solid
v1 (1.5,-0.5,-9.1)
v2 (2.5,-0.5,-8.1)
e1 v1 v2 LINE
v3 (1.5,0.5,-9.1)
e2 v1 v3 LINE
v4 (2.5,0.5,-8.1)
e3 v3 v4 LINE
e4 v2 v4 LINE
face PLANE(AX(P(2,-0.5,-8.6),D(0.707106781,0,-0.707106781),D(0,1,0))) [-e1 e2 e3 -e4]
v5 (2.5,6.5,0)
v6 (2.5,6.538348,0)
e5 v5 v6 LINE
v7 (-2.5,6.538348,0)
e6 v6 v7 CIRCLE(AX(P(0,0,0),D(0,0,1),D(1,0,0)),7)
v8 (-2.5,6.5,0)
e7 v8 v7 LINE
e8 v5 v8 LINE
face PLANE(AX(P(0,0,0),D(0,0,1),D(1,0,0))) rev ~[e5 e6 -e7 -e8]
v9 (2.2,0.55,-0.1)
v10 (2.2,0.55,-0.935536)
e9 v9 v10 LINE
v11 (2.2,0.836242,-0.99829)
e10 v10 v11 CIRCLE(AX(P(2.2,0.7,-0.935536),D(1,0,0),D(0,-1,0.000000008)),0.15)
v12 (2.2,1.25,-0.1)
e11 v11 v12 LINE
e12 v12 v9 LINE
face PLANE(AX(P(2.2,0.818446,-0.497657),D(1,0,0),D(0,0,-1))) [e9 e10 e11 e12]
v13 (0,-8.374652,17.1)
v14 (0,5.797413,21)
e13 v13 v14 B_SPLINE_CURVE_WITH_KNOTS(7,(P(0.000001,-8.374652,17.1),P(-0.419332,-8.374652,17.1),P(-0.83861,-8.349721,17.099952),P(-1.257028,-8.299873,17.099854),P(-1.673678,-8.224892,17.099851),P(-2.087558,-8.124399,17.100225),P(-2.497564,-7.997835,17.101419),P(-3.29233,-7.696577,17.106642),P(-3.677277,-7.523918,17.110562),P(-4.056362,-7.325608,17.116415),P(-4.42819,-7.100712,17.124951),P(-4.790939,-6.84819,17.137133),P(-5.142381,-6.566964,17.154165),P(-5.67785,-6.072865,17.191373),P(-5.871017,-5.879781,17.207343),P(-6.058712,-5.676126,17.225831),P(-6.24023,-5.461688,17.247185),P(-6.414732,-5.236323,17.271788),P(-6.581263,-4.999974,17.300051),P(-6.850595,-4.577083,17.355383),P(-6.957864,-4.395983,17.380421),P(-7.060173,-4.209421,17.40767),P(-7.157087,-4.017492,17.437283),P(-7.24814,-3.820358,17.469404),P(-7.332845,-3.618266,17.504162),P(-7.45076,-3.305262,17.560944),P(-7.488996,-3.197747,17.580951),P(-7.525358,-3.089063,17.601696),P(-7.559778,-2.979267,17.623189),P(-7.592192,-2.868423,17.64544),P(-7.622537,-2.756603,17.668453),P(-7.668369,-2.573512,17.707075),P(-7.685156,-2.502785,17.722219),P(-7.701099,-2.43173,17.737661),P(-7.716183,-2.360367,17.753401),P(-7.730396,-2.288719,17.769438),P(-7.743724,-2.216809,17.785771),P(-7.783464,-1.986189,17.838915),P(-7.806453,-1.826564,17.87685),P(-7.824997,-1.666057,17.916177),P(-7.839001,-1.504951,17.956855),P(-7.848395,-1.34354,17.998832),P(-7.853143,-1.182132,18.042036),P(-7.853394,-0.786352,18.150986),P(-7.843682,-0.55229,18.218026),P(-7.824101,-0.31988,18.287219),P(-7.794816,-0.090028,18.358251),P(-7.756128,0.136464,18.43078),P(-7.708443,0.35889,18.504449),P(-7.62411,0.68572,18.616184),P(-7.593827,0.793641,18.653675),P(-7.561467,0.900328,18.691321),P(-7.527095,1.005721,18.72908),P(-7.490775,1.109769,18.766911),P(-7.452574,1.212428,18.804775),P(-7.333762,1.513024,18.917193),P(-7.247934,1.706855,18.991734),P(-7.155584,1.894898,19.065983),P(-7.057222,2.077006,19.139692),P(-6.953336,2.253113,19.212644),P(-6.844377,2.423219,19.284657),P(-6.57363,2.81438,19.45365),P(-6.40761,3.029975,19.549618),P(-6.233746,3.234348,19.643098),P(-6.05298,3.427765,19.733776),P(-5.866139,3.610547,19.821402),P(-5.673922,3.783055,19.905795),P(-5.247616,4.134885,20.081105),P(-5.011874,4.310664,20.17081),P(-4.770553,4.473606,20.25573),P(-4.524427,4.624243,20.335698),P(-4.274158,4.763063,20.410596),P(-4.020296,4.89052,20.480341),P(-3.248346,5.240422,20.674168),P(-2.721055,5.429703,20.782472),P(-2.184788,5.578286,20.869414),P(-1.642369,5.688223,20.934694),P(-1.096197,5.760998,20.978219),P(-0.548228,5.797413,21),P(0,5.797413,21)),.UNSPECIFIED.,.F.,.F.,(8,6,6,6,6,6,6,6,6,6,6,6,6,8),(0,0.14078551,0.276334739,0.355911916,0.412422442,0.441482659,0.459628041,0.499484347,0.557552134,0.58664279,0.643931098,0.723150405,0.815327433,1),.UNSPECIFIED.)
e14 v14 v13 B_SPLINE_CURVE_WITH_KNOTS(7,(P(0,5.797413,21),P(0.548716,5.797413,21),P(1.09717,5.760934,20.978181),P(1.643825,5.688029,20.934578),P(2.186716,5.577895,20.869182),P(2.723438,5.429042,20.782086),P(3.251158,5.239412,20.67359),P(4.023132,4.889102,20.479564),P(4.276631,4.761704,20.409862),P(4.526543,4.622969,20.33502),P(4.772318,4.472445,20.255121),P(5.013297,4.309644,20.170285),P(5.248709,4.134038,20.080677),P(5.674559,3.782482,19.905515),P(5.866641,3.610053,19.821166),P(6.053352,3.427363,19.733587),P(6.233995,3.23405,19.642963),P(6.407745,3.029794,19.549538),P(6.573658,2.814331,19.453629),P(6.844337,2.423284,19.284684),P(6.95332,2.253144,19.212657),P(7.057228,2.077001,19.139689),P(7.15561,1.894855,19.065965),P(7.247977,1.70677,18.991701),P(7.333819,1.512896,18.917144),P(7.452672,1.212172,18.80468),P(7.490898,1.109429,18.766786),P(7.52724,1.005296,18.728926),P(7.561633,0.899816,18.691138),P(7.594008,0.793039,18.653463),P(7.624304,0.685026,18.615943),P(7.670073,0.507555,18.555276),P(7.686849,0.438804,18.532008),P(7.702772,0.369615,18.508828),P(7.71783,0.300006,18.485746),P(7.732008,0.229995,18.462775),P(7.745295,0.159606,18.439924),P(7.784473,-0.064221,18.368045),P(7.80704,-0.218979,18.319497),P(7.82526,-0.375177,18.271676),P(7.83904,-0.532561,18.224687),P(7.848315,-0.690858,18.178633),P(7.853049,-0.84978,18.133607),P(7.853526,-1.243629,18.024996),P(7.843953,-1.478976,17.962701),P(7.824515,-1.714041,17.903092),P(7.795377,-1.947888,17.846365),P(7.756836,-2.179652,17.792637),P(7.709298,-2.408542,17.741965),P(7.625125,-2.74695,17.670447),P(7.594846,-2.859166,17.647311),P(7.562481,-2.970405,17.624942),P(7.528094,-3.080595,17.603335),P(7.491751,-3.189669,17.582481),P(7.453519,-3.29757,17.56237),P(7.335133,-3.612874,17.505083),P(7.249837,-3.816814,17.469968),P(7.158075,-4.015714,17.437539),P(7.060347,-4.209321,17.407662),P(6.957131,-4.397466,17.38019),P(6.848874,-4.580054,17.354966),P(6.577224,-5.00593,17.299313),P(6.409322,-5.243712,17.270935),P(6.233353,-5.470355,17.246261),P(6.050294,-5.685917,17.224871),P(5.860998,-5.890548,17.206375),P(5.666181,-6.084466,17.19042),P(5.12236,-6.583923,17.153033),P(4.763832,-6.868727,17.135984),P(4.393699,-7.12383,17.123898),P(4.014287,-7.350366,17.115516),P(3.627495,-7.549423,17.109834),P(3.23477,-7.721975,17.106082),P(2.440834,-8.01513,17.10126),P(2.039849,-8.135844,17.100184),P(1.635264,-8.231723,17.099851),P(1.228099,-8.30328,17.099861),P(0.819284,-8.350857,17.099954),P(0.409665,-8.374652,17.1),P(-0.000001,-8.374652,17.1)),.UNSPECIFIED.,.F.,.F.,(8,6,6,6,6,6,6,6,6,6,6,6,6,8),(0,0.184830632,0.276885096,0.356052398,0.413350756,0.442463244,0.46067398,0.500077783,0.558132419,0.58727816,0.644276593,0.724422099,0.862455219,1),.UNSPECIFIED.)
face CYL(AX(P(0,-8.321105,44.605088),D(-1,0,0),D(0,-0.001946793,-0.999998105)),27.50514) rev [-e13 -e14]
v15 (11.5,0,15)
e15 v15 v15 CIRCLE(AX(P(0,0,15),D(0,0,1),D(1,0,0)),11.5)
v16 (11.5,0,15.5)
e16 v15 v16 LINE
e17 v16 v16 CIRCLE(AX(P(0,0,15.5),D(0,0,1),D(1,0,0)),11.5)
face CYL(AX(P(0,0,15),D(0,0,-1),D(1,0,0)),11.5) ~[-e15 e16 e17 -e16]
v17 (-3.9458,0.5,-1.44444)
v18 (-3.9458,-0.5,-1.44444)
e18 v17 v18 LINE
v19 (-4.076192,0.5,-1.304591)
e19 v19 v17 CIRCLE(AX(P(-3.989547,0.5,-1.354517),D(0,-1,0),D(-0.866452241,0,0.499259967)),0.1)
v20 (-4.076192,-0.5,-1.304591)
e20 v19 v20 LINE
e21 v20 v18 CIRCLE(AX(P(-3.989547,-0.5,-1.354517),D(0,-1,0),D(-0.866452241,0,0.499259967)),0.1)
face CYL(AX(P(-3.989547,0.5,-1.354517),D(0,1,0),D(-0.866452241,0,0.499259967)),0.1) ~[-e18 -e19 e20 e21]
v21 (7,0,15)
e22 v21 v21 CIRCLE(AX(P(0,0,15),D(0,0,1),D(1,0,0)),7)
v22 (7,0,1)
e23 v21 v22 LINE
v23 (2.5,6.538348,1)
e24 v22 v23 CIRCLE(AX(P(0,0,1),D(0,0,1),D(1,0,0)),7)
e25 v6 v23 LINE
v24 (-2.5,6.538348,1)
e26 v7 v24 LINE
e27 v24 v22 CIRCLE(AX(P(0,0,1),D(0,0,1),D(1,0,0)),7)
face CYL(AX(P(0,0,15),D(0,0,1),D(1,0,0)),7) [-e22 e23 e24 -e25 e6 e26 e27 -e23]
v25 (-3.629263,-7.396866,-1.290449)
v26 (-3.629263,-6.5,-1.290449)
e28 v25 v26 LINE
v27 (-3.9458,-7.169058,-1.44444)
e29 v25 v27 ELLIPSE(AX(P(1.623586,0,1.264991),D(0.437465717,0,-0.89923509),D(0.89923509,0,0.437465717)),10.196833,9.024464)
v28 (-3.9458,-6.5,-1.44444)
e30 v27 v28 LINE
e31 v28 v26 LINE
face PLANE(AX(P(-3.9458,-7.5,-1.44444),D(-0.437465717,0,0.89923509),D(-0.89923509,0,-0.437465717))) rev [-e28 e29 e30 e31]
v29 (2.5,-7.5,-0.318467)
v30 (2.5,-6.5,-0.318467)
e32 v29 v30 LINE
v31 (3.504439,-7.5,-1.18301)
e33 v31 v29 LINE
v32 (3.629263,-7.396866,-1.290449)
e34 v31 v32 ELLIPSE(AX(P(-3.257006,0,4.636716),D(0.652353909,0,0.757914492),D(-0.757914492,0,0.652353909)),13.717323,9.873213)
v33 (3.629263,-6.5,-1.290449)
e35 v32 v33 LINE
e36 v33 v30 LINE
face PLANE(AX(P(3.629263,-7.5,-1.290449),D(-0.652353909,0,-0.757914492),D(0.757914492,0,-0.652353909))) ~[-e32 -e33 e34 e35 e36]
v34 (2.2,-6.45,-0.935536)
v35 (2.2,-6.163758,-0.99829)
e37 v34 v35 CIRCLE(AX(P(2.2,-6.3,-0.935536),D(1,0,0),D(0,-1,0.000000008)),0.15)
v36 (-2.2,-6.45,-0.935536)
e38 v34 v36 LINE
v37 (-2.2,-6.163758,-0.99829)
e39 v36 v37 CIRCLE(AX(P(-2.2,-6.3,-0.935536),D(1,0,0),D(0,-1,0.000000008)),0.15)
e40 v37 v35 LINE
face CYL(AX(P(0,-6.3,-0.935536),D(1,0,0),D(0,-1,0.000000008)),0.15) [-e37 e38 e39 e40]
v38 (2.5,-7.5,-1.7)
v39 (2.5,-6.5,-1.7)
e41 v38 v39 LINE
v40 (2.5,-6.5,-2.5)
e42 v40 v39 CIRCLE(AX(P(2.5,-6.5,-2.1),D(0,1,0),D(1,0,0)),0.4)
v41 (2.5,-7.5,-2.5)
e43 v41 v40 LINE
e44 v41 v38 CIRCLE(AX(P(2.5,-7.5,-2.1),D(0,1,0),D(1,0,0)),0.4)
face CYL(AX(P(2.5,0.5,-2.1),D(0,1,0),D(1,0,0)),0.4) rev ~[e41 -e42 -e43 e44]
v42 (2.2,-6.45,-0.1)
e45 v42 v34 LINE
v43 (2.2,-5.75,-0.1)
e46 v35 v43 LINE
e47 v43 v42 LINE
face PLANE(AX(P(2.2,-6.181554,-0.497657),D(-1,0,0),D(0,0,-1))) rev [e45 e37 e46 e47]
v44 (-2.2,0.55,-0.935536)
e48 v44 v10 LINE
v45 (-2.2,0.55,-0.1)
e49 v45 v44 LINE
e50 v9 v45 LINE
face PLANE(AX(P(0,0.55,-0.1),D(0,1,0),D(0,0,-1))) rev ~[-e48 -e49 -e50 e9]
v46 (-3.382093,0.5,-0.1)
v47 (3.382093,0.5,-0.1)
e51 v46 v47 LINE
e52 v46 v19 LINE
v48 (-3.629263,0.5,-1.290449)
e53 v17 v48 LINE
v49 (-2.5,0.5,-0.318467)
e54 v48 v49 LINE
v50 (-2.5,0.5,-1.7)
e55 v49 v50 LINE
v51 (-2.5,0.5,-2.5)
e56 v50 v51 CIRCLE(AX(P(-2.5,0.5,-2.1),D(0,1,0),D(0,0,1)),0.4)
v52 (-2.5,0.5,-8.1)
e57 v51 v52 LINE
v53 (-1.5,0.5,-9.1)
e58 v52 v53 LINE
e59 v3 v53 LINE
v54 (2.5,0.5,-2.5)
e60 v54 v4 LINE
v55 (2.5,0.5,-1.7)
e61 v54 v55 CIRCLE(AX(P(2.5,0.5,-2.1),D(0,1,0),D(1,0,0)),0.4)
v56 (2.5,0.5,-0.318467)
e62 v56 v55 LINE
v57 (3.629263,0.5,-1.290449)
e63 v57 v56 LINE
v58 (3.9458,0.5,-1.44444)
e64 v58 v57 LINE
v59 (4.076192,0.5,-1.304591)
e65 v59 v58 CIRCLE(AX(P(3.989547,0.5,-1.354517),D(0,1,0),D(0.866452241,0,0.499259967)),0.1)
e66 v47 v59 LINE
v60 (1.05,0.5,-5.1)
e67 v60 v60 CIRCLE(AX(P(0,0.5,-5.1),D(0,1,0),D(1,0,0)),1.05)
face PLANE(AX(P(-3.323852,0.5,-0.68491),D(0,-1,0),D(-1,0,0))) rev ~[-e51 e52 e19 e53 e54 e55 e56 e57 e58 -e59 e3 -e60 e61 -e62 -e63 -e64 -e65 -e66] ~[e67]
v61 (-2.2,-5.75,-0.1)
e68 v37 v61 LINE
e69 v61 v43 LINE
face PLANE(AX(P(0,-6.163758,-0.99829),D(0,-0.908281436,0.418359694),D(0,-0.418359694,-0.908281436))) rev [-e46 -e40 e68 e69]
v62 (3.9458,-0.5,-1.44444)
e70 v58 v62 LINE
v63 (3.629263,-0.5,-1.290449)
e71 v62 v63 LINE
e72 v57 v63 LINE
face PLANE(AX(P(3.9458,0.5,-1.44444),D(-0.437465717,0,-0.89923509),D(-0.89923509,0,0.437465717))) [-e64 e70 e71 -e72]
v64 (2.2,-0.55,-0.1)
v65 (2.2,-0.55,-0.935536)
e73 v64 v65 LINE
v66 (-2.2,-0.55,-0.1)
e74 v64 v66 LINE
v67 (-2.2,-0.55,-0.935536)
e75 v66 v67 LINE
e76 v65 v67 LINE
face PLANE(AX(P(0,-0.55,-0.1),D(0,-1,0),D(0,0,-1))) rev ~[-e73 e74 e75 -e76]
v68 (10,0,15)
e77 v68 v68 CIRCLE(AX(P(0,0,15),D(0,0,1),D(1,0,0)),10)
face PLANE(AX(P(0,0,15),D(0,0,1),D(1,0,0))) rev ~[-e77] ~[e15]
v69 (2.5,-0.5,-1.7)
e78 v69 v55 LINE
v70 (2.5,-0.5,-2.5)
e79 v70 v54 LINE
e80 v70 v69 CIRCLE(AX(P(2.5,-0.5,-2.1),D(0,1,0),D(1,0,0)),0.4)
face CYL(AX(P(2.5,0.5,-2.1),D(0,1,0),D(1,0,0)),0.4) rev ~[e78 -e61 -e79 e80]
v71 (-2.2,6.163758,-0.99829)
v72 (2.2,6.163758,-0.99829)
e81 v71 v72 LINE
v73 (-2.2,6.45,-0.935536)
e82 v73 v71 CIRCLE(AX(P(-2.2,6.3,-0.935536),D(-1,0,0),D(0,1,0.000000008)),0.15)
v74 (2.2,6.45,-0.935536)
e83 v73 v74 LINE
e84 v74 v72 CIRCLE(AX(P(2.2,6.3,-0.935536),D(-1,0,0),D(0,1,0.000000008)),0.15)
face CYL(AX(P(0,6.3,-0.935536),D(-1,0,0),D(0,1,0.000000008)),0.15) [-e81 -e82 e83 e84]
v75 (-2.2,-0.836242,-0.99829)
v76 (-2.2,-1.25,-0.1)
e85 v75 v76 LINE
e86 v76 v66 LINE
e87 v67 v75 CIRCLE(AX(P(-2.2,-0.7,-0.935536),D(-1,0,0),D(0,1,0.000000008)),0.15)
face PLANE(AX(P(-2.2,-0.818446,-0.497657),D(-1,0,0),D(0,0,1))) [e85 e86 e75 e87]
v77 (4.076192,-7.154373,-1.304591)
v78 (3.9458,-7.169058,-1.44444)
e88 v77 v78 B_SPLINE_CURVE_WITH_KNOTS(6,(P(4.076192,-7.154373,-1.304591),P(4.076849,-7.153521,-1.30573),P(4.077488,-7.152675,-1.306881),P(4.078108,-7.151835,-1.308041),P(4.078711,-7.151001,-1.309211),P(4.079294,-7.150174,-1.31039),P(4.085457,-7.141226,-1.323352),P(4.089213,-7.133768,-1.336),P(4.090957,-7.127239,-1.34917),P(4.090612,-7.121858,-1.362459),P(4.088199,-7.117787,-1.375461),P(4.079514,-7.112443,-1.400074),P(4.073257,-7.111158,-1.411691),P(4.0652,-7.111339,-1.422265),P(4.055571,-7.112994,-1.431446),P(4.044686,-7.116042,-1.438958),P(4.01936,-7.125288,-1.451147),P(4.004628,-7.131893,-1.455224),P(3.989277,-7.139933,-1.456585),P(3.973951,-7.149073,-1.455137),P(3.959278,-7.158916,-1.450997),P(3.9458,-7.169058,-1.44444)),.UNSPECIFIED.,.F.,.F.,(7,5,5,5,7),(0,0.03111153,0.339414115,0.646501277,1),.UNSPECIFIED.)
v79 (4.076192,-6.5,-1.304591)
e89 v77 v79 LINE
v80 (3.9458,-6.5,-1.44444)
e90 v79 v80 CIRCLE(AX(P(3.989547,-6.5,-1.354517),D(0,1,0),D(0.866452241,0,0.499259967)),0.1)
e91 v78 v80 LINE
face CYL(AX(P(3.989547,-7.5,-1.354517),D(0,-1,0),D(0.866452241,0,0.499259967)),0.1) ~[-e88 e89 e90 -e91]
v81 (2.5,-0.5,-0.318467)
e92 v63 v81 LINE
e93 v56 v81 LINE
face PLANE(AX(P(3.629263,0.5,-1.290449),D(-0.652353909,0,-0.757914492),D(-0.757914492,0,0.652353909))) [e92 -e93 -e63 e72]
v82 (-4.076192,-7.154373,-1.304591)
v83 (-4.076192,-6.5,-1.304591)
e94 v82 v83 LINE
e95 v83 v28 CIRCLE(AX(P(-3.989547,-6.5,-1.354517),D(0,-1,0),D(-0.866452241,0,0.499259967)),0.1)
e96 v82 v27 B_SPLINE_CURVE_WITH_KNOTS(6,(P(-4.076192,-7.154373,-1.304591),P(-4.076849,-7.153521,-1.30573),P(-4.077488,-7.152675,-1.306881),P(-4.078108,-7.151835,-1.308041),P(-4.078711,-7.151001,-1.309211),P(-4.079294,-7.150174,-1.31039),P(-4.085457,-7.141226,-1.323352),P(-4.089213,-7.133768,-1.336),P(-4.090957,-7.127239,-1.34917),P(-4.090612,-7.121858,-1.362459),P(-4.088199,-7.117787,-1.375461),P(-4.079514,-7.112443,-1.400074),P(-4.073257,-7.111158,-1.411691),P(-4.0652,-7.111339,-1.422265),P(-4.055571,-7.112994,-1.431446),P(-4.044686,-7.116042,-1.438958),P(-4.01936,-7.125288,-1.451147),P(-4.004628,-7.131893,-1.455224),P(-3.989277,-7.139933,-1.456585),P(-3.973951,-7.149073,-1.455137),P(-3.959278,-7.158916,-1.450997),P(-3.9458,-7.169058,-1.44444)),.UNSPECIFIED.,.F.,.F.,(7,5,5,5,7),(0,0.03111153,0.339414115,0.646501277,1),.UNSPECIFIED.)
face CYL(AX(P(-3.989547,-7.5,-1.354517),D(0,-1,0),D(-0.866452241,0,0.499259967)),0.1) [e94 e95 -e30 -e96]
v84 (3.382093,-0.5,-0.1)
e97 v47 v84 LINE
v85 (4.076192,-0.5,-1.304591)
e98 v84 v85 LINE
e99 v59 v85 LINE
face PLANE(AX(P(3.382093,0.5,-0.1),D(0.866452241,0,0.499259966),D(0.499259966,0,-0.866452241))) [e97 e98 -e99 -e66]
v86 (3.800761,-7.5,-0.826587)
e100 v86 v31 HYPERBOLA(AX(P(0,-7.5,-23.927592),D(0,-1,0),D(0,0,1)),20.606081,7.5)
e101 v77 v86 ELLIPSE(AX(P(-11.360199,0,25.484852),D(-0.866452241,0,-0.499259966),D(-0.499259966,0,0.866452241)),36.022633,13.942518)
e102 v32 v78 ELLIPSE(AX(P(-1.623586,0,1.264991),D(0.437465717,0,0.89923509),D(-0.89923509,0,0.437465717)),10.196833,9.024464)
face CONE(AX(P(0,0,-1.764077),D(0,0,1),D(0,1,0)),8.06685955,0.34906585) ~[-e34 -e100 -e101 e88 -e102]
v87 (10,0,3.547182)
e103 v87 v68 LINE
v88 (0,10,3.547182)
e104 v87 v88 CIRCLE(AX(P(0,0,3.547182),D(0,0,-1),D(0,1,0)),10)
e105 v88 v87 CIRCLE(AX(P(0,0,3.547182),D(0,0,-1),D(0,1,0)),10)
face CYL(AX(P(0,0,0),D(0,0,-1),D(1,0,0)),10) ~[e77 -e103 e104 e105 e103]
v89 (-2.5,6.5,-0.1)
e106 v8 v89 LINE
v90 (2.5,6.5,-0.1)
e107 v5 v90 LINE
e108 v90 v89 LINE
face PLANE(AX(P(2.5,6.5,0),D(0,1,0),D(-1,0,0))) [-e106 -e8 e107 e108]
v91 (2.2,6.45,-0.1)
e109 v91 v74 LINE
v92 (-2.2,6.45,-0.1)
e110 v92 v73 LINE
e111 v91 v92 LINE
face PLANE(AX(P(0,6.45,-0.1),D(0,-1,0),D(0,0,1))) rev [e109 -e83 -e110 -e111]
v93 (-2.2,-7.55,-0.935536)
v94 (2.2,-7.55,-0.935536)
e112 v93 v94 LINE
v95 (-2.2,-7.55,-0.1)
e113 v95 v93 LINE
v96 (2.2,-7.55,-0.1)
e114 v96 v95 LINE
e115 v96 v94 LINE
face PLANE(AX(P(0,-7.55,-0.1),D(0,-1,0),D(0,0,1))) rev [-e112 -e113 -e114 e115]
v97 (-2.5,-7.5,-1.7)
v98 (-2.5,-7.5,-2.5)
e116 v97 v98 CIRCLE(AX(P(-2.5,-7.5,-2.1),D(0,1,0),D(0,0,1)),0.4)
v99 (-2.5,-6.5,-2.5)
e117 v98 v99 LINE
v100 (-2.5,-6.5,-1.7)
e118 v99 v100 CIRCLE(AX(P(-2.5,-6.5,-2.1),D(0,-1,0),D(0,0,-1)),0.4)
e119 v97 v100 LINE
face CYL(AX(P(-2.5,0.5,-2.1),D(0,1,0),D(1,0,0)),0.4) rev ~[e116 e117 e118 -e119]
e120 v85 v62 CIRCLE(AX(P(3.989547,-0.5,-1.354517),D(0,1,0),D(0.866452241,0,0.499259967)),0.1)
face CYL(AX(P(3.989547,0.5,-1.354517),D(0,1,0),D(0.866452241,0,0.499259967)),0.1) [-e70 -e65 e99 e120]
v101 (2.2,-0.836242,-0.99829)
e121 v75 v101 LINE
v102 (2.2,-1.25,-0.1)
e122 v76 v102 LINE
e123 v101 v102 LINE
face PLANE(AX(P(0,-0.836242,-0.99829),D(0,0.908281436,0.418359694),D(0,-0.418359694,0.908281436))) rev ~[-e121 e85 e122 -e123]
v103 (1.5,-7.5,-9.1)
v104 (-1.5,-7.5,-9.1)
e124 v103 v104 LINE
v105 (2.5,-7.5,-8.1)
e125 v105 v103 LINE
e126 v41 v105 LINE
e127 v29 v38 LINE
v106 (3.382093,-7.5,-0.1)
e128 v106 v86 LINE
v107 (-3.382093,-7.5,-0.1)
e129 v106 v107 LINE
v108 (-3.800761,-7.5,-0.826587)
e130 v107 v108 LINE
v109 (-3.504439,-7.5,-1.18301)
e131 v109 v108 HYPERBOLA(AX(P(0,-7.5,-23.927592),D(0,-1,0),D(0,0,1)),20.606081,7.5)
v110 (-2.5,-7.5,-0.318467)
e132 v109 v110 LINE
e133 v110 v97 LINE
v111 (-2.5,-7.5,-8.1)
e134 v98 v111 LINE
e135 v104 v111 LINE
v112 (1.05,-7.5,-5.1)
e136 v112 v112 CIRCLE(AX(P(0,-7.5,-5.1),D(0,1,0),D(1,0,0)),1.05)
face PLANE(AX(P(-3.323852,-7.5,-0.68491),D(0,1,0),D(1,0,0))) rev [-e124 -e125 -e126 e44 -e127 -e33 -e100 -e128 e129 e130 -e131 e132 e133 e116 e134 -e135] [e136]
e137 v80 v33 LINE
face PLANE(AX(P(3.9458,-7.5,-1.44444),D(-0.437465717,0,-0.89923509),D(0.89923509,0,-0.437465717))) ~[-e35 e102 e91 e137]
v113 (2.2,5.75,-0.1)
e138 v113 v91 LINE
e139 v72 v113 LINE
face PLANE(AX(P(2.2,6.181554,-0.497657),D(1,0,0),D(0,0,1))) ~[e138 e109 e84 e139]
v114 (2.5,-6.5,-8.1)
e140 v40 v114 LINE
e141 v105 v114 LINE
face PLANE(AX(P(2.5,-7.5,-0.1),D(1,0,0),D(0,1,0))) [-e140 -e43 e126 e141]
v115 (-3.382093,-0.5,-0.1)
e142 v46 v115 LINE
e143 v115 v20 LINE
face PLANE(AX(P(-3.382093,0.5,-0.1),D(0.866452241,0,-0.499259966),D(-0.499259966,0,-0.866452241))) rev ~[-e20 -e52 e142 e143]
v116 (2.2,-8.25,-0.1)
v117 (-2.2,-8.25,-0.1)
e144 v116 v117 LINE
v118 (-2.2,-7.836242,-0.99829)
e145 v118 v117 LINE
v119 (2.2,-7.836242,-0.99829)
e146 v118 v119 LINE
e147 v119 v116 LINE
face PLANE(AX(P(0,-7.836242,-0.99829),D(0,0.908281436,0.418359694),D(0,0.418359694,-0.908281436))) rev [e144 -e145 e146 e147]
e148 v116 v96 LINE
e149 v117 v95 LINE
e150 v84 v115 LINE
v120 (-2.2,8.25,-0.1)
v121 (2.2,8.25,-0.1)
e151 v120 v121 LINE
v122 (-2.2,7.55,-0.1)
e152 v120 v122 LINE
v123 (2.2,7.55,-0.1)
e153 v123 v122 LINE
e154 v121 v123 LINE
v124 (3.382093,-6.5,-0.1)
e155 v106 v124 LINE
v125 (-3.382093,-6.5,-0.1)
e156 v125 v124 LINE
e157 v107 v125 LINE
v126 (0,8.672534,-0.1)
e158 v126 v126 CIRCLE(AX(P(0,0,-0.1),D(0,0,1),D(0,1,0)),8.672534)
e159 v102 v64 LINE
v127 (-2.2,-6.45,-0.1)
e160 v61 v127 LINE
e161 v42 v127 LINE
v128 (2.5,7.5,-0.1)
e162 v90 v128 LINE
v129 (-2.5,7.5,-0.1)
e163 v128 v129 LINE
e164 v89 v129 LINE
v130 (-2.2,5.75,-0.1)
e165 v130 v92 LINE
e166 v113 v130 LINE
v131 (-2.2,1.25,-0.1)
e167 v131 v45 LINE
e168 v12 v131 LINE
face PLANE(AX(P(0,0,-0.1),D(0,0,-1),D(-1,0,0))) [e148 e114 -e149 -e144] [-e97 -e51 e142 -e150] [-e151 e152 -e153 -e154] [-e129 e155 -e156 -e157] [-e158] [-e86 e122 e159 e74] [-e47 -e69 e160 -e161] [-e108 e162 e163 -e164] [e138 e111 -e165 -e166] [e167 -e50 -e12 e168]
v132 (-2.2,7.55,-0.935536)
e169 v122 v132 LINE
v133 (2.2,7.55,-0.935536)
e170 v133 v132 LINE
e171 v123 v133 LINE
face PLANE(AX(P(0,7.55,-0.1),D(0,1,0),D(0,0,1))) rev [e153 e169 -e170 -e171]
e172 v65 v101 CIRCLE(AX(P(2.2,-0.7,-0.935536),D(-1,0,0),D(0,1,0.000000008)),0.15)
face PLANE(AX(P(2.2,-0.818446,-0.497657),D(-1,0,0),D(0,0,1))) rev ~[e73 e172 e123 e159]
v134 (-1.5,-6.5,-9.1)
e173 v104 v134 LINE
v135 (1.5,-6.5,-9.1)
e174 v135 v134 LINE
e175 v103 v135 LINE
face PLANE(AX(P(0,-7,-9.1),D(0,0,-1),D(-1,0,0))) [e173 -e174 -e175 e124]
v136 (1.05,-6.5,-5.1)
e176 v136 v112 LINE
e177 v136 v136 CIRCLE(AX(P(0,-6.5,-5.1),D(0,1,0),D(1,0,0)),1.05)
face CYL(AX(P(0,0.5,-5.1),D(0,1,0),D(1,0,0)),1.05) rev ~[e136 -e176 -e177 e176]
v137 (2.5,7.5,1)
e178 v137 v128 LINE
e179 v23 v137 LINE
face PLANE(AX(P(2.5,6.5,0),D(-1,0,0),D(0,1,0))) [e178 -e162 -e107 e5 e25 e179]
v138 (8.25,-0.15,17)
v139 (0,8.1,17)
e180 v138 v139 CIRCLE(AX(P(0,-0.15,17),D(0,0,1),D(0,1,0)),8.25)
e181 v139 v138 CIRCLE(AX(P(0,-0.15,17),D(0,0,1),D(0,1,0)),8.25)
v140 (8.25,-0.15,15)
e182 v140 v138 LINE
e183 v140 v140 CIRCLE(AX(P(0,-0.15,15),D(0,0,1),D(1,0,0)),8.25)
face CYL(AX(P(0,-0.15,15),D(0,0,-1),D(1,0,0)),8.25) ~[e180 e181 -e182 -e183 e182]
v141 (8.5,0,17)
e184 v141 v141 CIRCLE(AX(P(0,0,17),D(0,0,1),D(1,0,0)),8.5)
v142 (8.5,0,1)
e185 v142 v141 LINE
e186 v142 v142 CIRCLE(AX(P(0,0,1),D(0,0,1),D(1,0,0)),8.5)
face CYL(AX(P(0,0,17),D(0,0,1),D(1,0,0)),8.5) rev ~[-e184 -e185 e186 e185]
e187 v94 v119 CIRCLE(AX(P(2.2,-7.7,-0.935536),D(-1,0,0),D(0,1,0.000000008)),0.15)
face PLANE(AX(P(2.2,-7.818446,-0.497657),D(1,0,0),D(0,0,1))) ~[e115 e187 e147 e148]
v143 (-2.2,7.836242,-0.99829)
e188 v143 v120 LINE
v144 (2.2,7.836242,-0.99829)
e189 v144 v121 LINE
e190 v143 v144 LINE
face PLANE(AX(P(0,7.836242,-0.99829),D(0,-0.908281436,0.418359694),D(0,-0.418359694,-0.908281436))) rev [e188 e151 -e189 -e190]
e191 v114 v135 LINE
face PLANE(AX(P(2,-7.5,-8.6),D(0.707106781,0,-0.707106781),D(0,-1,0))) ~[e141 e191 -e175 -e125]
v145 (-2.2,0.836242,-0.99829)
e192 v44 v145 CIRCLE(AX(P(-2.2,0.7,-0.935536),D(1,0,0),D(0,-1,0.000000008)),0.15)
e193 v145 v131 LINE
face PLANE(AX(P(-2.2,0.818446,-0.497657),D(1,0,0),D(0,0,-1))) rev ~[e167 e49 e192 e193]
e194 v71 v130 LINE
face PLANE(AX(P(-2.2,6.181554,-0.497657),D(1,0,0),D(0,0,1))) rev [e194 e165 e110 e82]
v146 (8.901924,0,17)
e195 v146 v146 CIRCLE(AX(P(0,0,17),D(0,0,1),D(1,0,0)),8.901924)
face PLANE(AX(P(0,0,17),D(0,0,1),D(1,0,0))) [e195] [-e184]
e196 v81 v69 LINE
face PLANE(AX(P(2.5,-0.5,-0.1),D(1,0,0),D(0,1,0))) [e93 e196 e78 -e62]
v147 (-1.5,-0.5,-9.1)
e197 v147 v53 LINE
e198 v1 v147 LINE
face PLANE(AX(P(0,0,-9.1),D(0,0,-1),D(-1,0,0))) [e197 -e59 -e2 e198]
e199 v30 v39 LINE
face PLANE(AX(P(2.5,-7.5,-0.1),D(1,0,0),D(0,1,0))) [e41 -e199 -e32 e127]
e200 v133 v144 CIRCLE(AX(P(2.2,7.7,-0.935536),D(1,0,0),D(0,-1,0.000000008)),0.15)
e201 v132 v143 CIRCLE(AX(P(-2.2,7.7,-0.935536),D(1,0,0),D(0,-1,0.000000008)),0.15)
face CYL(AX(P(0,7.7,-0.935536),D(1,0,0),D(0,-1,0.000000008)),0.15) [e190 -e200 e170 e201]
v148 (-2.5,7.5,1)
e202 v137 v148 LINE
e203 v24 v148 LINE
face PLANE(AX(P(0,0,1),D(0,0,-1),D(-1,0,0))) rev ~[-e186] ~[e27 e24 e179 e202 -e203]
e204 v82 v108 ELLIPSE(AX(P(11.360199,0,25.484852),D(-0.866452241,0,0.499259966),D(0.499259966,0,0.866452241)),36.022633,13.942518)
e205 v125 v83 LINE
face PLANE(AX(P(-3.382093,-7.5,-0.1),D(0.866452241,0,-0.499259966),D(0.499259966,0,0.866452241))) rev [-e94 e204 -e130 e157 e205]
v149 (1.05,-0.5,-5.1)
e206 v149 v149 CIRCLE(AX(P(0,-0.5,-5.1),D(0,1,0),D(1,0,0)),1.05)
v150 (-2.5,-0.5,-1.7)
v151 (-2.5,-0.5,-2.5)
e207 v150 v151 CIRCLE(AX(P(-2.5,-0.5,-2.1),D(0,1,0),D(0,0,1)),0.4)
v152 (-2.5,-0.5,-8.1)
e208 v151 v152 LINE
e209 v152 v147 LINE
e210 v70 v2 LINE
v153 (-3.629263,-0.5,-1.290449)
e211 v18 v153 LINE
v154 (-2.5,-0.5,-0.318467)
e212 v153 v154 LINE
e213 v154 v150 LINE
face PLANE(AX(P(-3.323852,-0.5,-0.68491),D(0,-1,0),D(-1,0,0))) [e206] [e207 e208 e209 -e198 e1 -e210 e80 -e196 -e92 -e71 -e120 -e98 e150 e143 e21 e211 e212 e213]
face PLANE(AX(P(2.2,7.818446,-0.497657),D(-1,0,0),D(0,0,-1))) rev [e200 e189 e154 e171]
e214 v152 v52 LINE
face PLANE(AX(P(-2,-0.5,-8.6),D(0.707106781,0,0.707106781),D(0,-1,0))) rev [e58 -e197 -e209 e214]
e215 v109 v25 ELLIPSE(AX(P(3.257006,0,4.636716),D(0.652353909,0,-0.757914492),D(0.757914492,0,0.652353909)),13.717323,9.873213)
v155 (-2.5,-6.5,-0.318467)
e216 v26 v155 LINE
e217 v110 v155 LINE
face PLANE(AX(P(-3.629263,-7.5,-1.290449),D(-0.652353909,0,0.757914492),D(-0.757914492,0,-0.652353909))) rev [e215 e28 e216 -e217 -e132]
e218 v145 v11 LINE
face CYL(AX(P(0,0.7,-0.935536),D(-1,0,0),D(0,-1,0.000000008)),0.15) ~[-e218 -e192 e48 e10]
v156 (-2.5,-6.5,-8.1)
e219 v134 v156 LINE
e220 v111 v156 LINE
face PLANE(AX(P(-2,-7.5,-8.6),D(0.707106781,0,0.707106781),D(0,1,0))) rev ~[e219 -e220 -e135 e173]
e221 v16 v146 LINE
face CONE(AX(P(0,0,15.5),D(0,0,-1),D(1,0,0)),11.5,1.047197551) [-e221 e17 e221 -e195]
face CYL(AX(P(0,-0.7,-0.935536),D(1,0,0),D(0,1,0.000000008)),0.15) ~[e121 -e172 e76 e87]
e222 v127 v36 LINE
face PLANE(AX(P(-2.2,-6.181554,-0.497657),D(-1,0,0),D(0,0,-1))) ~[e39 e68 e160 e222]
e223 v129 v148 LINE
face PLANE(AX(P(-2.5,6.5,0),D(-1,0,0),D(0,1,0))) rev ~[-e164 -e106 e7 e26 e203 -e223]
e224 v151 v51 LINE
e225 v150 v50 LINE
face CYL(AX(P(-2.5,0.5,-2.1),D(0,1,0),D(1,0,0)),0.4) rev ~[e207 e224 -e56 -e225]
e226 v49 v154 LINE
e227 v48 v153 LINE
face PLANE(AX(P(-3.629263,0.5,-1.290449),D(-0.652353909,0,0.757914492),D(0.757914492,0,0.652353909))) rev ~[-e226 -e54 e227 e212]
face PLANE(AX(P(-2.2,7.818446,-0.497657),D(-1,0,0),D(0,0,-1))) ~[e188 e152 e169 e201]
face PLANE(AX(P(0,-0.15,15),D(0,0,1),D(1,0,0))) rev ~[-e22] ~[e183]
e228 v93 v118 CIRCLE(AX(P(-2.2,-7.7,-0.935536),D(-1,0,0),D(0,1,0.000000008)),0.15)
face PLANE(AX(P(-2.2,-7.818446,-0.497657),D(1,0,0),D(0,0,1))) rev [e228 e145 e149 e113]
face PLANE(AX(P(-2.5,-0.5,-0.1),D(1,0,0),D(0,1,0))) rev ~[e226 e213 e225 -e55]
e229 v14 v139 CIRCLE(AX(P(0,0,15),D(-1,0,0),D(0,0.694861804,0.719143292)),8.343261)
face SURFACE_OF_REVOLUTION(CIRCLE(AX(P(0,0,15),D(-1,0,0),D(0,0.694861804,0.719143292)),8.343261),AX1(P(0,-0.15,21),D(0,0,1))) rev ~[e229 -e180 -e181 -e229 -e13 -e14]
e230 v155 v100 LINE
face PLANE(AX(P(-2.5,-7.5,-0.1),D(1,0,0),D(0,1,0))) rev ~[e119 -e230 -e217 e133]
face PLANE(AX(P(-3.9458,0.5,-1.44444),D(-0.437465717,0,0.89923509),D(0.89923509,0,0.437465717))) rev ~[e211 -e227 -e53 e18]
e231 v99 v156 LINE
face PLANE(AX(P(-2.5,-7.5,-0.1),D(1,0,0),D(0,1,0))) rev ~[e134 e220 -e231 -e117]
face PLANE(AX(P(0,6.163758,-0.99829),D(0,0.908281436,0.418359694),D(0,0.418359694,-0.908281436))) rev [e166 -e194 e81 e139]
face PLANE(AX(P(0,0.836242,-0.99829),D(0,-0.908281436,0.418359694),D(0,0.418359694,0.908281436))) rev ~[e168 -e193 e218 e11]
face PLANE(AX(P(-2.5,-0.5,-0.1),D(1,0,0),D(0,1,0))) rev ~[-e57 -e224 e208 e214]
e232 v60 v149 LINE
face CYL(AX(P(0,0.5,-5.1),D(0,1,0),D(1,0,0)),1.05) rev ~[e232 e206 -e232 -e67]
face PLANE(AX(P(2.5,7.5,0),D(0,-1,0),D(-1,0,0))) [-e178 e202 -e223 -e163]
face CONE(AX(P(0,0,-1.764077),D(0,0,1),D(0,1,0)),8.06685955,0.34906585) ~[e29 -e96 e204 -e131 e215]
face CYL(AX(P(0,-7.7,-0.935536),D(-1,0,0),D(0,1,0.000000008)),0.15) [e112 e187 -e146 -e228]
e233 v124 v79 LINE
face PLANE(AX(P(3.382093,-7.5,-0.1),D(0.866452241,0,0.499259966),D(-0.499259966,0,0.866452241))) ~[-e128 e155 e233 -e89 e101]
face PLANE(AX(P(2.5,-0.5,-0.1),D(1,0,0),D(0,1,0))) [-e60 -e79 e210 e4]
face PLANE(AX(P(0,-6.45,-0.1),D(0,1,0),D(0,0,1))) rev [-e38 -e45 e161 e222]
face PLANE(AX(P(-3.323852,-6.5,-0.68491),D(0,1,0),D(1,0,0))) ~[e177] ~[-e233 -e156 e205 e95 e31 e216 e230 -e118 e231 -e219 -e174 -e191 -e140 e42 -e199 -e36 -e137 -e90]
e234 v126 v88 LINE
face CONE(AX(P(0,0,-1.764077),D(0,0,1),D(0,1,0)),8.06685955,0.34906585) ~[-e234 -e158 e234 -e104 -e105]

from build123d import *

# Parameters (mm, degrees)
SKETCH1_R                = 10
BOSS_EXTRUDE1_DEPTH      = 15
SKETCH2_R                = 11.5
BOSS_EXTRUDE2_DEPTH      = 2
SKETCH3_R                = 8.5
CUT_EXTRUDE1_DEPTH       = 2
CUT_EXTRUDE2_REACH       = 17
SKETCH4_R                = 8.5
SKETCH4_R_2              = 7
SKETCH5_R                = 10
SKETCH5_W                = 5
SKETCH5_H                = 1
BOSS_EXTRUDE3_DEPTH      = 0.1
BOSS_EXTRUDE3_DEPTH_BACK = 1
SKETCH6_W                = 5
SKETCH6_H                = 1
BOSS_EXTRUDE4_DEPTH      = 9
SKETCH7_R                = 8.25
BOSS_EXTRUDE5_DEPTH      = 6
CUT_EXTRUDE3_DEPTH       = 16
CUT_EXTRUDE3_DEPTH_BACK  = 16
SKETCH10_R               = 1.05
SKETCH10_R_2             = 0.4
CUT_EXTRUDE4_DEPTH       = 13
CHAMFER1_SIZE            = 1
CHAMFER2_SIZE            = 1
BOSS_EXTRUDE8_DEPTH      = 1
BOSS_EXTRUDE9_DEPTH      = 2.2
CHAMFER4_SIZE            = 1.5
CHAMFER4_SIZE2           = 2.598076211


with BuildPart() as part:
    # Sketch1 → Boss-Extrude1 (new body)
    with BuildSketch(Plane.XY):
        Circle(SKETCH1_R)
    extrude(amount=BOSS_EXTRUDE1_DEPTH)

    # Sketch2 → Boss-Extrude2 (add)
    with BuildSketch(Plane.XY.offset(15)):
        Circle(SKETCH2_R)
    extrude(amount=BOSS_EXTRUDE2_DEPTH)

    # Sketch3 → Cut-Extrude1 (cut)
    with BuildSketch(Plane.XY.offset(17)):
        Circle(SKETCH3_R)
    extrude(amount=-CUT_EXTRUDE1_DEPTH, mode=Mode.SUBTRACT)

    # Sketch4 → Cut-Extrude2 (cut, up to next)
    with BuildSketch(Plane.XY.offset(15), mode=Mode.PRIVATE) as cut_extrude2_sk1:
        Circle(SKETCH4_R)
        Circle(SKETCH4_R_2, mode=Mode.SUBTRACT)
    cut_extrude2_tool1 = extrude(cut_extrude2_sk1.sketch, amount=-CUT_EXTRUDE2_REACH, mode=Mode.PRIVATE) & part.part
    add(cut_extrude2_tool1.solids().sort_by_distance((-8.259584, 0, 15))[0], mode=Mode.SUBTRACT)

    # Sketch5 → Boss-Extrude3 (add, two sides)
    with BuildSketch(Plane(origin=(0, 0, 0), x_dir=(-1, 0, 0), z_dir=(0, 0, -1))) as boss_extrude3_sk:
        Circle(SKETCH5_R)
        with Locations((0, 7)):
            Rectangle(SKETCH5_W, SKETCH5_H, mode=Mode.SUBTRACT)
    extrude(amount=BOSS_EXTRUDE3_DEPTH)
    extrude(boss_extrude3_sk.sketch, amount=-BOSS_EXTRUDE3_DEPTH_BACK)

    # Sketch6 → Boss-Extrude4 (add)
    with BuildSketch(Plane(origin=(0, 0, -0.1), x_dir=(-1, 0, 0), z_dir=(0, 0, -1))):
        with Locations((0, -7)):
            Rectangle(SKETCH6_W, SKETCH6_H)
        Rectangle(SKETCH6_W, SKETCH6_H)
    extrude(amount=BOSS_EXTRUDE4_DEPTH)

    # Sketch7 → Boss-Extrude5 (add)
    with BuildSketch(Plane.XY.offset(15)):
        with Locations((0, -0.15)):
            Circle(SKETCH7_R)
    extrude(amount=BOSS_EXTRUDE5_DEPTH)

    # Sketch8 → Cut-Revolve1 (revolve, cut)
    with BuildSketch(Plane(origin=(0, 0, 0), x_dir=(0, 0, -1), z_dir=(1, 0, 0))):
        with BuildLine():
            Line((-17, 8.1), (-21.761349269, 8.1))
            Line((-21.761349269, 8.1), (-21.761349269, 5.797413216))
            Line((-21.761349269, 5.797413216), (-21, 5.797413216))
            ThreePointArc((-21, 5.797413216), (-19.162388314, 7.230803795), (-17, 8.1))
        make_face()
    revolve(axis=Axis((0, -0.15, 21), (0, 0, 1)), mode=Mode.SUBTRACT)

    # Sketch9 → Cut-Extrude3 (cut, two sides)
    with BuildSketch(Plane(origin=(0, 0, 0), x_dir=(0, 0, -1), z_dir=(1, 0, 0))) as cut_extrude3_sk:
        with BuildLine():
            Line((-21, 5.797413216), (-21, -8.374651695))
            Line((-21, -8.374651695), (-17.1, -8.374651695))
            ThreePointArc((-17.1, -8.374651695), (-18.085767141, -1.023272716), (-21, 5.797413216))
        make_face()
    extrude(amount=CUT_EXTRUDE3_DEPTH, mode=Mode.SUBTRACT)
    extrude(cut_extrude3_sk.sketch, amount=-CUT_EXTRUDE3_DEPTH_BACK, mode=Mode.SUBTRACT)

    # Sketch10 → Cut-Extrude4 (cut, through all)
    with BuildSketch(Plane(origin=(0, 0.5, 0), x_dir=(1, 0, 0), z_dir=(0, 1, 0))):
        with Locations((0, 5.1)):
            Circle(SKETCH10_R)
        with Locations((-2.5, 2.1)):
            Circle(SKETCH10_R_2)
        with Locations((2.5, 2.1)):
            Circle(SKETCH10_R_2)
    extrude(amount=-CUT_EXTRUDE4_DEPTH, mode=Mode.SUBTRACT)

    # Chamfer1
    chamfer1_edges = [part.edges().sort_by_distance(p)[0] for p in [
        (2.5, 0, -9.1),
        (-2.5, 0, -9.1),
    ]]
    chamfer(chamfer1_edges, length=CHAMFER1_SIZE)

    # Chamfer2
    chamfer2_edges = [part.edges().sort_by_distance(p)[0] for p in [
        (-2.5, -7, -9.1),
        (2.5, -7, -9.1),
    ]]
    chamfer(chamfer2_edges, length=CHAMFER2_SIZE)

    # Sketch11 → Boss-Extrude8 (add)
    with BuildSketch(Plane(origin=(0, 0.5, 0), x_dir=(1, 0, 0), z_dir=(0, 1, 0))):
        with BuildLine():
            Line((-3.629263342, 1.290449142), (-2.5, 0.318466995))
            Line((-2.5, 0.318466995), (-2.5, 0.1))
            Line((-2.5, 0.1), (-3.382092802, 0.1))
            Line((-3.382092802, 0.1), (-4.076192043, 1.304590563))
            ThreePointArc((-4.076192043, 1.304590563), (-4.0626874, 1.422710807), (-3.945800247, 1.444440068))
            Line((-3.945800247, 1.444440068), (-3.629263342, 1.290449142))
        make_face()
        with BuildLine():
            Line((2.5, 0.318466995), (2.5, 0.1))
            Line((2.5, 0.1), (3.382092802, 0.1))
            Line((3.382092802, 0.1), (4.076192043, 1.304590563))
            ThreePointArc((4.076192043, 1.304590563), (4.0626874, 1.422710807), (3.945800247, 1.444440068))
            Line((3.945800247, 1.444440068), (3.629263342, 1.290449142))
            Line((3.629263342, 1.290449142), (2.5, 0.318466995))
        make_face()
    boss_extrude8 = extrude(amount=-BOSS_EXTRUDE8_DEPTH)

    # Sketch12 → Boss-Extrude9 (add, symmetric)
    with BuildSketch(Plane(origin=(0, 0, 0), x_dir=(0, 0, -1), z_dir=(1, 0, 0))):
        with BuildLine():
            Line((0.1, 0.55), (0.935536489, 0.55))
            ThreePointArc((0.935536489, 0.55), (1.08205668, 0.667877829), (0.998290443, 0.836242215))
            Line((0.998290443, 0.836242215), (0.1, 1.25))
            Line((0.1, 1.25), (0.1, 0.55))
        make_face()
        with BuildLine():
            Line((0.1, -1.25), (0.1, -0.55))
            Line((0.1, -0.55), (0.935536489, -0.55))
            ThreePointArc((0.935536489, -0.55), (1.08205668, -0.667877829), (0.998290443, -0.836242215))
            Line((0.998290443, -0.836242215), (0.1, -1.25))
        make_face()
    boss_extrude9 = extrude(amount=BOSS_EXTRUDE9_DEPTH, both=True)

    # Mirror4: Boss-Extrude8, Boss-Extrude9 across plane
    add(boss_extrude8.mirror(Plane.ZX.offset(-3.5)))
    add(boss_extrude9.mirror(Plane.ZX.offset(-3.5)))

    # Mirror5: Boss-Extrude9 across plane
    add(boss_extrude9.mirror(Plane.ZX.offset(3.5)))

    # Sketch13 → Cut-Revolve2 (revolve, cut)
    with BuildSketch(Plane(origin=(0, 0, 0), x_dir=(0, 0, -1), z_dir=(1, 0, 0))):
        Polygon((1.764077397, 8.06685955), (-3.547182339, 10), (0.1, 10), (1.764077397, 10), align=None)
    revolve(axis=Axis((0, 0, 0), (0, 0, -1)), mode=Mode.SUBTRACT)

    # Chamfer4
    chamfer4_edges = [part.edges().sort_by_distance(p)[0] for p in [
        (-11.5, 0, 17),
    ]]
    chamfer4_side = [part.faces().sort_by_distance(p)[0] for p in [
        (-11.5, 0, 16),
    ]]
    chamfer(chamfer4_edges, length=CHAMFER4_SIZE, length2=CHAMFER4_SIZE2, reference=chamfer4_side[0])


solid = part.part
